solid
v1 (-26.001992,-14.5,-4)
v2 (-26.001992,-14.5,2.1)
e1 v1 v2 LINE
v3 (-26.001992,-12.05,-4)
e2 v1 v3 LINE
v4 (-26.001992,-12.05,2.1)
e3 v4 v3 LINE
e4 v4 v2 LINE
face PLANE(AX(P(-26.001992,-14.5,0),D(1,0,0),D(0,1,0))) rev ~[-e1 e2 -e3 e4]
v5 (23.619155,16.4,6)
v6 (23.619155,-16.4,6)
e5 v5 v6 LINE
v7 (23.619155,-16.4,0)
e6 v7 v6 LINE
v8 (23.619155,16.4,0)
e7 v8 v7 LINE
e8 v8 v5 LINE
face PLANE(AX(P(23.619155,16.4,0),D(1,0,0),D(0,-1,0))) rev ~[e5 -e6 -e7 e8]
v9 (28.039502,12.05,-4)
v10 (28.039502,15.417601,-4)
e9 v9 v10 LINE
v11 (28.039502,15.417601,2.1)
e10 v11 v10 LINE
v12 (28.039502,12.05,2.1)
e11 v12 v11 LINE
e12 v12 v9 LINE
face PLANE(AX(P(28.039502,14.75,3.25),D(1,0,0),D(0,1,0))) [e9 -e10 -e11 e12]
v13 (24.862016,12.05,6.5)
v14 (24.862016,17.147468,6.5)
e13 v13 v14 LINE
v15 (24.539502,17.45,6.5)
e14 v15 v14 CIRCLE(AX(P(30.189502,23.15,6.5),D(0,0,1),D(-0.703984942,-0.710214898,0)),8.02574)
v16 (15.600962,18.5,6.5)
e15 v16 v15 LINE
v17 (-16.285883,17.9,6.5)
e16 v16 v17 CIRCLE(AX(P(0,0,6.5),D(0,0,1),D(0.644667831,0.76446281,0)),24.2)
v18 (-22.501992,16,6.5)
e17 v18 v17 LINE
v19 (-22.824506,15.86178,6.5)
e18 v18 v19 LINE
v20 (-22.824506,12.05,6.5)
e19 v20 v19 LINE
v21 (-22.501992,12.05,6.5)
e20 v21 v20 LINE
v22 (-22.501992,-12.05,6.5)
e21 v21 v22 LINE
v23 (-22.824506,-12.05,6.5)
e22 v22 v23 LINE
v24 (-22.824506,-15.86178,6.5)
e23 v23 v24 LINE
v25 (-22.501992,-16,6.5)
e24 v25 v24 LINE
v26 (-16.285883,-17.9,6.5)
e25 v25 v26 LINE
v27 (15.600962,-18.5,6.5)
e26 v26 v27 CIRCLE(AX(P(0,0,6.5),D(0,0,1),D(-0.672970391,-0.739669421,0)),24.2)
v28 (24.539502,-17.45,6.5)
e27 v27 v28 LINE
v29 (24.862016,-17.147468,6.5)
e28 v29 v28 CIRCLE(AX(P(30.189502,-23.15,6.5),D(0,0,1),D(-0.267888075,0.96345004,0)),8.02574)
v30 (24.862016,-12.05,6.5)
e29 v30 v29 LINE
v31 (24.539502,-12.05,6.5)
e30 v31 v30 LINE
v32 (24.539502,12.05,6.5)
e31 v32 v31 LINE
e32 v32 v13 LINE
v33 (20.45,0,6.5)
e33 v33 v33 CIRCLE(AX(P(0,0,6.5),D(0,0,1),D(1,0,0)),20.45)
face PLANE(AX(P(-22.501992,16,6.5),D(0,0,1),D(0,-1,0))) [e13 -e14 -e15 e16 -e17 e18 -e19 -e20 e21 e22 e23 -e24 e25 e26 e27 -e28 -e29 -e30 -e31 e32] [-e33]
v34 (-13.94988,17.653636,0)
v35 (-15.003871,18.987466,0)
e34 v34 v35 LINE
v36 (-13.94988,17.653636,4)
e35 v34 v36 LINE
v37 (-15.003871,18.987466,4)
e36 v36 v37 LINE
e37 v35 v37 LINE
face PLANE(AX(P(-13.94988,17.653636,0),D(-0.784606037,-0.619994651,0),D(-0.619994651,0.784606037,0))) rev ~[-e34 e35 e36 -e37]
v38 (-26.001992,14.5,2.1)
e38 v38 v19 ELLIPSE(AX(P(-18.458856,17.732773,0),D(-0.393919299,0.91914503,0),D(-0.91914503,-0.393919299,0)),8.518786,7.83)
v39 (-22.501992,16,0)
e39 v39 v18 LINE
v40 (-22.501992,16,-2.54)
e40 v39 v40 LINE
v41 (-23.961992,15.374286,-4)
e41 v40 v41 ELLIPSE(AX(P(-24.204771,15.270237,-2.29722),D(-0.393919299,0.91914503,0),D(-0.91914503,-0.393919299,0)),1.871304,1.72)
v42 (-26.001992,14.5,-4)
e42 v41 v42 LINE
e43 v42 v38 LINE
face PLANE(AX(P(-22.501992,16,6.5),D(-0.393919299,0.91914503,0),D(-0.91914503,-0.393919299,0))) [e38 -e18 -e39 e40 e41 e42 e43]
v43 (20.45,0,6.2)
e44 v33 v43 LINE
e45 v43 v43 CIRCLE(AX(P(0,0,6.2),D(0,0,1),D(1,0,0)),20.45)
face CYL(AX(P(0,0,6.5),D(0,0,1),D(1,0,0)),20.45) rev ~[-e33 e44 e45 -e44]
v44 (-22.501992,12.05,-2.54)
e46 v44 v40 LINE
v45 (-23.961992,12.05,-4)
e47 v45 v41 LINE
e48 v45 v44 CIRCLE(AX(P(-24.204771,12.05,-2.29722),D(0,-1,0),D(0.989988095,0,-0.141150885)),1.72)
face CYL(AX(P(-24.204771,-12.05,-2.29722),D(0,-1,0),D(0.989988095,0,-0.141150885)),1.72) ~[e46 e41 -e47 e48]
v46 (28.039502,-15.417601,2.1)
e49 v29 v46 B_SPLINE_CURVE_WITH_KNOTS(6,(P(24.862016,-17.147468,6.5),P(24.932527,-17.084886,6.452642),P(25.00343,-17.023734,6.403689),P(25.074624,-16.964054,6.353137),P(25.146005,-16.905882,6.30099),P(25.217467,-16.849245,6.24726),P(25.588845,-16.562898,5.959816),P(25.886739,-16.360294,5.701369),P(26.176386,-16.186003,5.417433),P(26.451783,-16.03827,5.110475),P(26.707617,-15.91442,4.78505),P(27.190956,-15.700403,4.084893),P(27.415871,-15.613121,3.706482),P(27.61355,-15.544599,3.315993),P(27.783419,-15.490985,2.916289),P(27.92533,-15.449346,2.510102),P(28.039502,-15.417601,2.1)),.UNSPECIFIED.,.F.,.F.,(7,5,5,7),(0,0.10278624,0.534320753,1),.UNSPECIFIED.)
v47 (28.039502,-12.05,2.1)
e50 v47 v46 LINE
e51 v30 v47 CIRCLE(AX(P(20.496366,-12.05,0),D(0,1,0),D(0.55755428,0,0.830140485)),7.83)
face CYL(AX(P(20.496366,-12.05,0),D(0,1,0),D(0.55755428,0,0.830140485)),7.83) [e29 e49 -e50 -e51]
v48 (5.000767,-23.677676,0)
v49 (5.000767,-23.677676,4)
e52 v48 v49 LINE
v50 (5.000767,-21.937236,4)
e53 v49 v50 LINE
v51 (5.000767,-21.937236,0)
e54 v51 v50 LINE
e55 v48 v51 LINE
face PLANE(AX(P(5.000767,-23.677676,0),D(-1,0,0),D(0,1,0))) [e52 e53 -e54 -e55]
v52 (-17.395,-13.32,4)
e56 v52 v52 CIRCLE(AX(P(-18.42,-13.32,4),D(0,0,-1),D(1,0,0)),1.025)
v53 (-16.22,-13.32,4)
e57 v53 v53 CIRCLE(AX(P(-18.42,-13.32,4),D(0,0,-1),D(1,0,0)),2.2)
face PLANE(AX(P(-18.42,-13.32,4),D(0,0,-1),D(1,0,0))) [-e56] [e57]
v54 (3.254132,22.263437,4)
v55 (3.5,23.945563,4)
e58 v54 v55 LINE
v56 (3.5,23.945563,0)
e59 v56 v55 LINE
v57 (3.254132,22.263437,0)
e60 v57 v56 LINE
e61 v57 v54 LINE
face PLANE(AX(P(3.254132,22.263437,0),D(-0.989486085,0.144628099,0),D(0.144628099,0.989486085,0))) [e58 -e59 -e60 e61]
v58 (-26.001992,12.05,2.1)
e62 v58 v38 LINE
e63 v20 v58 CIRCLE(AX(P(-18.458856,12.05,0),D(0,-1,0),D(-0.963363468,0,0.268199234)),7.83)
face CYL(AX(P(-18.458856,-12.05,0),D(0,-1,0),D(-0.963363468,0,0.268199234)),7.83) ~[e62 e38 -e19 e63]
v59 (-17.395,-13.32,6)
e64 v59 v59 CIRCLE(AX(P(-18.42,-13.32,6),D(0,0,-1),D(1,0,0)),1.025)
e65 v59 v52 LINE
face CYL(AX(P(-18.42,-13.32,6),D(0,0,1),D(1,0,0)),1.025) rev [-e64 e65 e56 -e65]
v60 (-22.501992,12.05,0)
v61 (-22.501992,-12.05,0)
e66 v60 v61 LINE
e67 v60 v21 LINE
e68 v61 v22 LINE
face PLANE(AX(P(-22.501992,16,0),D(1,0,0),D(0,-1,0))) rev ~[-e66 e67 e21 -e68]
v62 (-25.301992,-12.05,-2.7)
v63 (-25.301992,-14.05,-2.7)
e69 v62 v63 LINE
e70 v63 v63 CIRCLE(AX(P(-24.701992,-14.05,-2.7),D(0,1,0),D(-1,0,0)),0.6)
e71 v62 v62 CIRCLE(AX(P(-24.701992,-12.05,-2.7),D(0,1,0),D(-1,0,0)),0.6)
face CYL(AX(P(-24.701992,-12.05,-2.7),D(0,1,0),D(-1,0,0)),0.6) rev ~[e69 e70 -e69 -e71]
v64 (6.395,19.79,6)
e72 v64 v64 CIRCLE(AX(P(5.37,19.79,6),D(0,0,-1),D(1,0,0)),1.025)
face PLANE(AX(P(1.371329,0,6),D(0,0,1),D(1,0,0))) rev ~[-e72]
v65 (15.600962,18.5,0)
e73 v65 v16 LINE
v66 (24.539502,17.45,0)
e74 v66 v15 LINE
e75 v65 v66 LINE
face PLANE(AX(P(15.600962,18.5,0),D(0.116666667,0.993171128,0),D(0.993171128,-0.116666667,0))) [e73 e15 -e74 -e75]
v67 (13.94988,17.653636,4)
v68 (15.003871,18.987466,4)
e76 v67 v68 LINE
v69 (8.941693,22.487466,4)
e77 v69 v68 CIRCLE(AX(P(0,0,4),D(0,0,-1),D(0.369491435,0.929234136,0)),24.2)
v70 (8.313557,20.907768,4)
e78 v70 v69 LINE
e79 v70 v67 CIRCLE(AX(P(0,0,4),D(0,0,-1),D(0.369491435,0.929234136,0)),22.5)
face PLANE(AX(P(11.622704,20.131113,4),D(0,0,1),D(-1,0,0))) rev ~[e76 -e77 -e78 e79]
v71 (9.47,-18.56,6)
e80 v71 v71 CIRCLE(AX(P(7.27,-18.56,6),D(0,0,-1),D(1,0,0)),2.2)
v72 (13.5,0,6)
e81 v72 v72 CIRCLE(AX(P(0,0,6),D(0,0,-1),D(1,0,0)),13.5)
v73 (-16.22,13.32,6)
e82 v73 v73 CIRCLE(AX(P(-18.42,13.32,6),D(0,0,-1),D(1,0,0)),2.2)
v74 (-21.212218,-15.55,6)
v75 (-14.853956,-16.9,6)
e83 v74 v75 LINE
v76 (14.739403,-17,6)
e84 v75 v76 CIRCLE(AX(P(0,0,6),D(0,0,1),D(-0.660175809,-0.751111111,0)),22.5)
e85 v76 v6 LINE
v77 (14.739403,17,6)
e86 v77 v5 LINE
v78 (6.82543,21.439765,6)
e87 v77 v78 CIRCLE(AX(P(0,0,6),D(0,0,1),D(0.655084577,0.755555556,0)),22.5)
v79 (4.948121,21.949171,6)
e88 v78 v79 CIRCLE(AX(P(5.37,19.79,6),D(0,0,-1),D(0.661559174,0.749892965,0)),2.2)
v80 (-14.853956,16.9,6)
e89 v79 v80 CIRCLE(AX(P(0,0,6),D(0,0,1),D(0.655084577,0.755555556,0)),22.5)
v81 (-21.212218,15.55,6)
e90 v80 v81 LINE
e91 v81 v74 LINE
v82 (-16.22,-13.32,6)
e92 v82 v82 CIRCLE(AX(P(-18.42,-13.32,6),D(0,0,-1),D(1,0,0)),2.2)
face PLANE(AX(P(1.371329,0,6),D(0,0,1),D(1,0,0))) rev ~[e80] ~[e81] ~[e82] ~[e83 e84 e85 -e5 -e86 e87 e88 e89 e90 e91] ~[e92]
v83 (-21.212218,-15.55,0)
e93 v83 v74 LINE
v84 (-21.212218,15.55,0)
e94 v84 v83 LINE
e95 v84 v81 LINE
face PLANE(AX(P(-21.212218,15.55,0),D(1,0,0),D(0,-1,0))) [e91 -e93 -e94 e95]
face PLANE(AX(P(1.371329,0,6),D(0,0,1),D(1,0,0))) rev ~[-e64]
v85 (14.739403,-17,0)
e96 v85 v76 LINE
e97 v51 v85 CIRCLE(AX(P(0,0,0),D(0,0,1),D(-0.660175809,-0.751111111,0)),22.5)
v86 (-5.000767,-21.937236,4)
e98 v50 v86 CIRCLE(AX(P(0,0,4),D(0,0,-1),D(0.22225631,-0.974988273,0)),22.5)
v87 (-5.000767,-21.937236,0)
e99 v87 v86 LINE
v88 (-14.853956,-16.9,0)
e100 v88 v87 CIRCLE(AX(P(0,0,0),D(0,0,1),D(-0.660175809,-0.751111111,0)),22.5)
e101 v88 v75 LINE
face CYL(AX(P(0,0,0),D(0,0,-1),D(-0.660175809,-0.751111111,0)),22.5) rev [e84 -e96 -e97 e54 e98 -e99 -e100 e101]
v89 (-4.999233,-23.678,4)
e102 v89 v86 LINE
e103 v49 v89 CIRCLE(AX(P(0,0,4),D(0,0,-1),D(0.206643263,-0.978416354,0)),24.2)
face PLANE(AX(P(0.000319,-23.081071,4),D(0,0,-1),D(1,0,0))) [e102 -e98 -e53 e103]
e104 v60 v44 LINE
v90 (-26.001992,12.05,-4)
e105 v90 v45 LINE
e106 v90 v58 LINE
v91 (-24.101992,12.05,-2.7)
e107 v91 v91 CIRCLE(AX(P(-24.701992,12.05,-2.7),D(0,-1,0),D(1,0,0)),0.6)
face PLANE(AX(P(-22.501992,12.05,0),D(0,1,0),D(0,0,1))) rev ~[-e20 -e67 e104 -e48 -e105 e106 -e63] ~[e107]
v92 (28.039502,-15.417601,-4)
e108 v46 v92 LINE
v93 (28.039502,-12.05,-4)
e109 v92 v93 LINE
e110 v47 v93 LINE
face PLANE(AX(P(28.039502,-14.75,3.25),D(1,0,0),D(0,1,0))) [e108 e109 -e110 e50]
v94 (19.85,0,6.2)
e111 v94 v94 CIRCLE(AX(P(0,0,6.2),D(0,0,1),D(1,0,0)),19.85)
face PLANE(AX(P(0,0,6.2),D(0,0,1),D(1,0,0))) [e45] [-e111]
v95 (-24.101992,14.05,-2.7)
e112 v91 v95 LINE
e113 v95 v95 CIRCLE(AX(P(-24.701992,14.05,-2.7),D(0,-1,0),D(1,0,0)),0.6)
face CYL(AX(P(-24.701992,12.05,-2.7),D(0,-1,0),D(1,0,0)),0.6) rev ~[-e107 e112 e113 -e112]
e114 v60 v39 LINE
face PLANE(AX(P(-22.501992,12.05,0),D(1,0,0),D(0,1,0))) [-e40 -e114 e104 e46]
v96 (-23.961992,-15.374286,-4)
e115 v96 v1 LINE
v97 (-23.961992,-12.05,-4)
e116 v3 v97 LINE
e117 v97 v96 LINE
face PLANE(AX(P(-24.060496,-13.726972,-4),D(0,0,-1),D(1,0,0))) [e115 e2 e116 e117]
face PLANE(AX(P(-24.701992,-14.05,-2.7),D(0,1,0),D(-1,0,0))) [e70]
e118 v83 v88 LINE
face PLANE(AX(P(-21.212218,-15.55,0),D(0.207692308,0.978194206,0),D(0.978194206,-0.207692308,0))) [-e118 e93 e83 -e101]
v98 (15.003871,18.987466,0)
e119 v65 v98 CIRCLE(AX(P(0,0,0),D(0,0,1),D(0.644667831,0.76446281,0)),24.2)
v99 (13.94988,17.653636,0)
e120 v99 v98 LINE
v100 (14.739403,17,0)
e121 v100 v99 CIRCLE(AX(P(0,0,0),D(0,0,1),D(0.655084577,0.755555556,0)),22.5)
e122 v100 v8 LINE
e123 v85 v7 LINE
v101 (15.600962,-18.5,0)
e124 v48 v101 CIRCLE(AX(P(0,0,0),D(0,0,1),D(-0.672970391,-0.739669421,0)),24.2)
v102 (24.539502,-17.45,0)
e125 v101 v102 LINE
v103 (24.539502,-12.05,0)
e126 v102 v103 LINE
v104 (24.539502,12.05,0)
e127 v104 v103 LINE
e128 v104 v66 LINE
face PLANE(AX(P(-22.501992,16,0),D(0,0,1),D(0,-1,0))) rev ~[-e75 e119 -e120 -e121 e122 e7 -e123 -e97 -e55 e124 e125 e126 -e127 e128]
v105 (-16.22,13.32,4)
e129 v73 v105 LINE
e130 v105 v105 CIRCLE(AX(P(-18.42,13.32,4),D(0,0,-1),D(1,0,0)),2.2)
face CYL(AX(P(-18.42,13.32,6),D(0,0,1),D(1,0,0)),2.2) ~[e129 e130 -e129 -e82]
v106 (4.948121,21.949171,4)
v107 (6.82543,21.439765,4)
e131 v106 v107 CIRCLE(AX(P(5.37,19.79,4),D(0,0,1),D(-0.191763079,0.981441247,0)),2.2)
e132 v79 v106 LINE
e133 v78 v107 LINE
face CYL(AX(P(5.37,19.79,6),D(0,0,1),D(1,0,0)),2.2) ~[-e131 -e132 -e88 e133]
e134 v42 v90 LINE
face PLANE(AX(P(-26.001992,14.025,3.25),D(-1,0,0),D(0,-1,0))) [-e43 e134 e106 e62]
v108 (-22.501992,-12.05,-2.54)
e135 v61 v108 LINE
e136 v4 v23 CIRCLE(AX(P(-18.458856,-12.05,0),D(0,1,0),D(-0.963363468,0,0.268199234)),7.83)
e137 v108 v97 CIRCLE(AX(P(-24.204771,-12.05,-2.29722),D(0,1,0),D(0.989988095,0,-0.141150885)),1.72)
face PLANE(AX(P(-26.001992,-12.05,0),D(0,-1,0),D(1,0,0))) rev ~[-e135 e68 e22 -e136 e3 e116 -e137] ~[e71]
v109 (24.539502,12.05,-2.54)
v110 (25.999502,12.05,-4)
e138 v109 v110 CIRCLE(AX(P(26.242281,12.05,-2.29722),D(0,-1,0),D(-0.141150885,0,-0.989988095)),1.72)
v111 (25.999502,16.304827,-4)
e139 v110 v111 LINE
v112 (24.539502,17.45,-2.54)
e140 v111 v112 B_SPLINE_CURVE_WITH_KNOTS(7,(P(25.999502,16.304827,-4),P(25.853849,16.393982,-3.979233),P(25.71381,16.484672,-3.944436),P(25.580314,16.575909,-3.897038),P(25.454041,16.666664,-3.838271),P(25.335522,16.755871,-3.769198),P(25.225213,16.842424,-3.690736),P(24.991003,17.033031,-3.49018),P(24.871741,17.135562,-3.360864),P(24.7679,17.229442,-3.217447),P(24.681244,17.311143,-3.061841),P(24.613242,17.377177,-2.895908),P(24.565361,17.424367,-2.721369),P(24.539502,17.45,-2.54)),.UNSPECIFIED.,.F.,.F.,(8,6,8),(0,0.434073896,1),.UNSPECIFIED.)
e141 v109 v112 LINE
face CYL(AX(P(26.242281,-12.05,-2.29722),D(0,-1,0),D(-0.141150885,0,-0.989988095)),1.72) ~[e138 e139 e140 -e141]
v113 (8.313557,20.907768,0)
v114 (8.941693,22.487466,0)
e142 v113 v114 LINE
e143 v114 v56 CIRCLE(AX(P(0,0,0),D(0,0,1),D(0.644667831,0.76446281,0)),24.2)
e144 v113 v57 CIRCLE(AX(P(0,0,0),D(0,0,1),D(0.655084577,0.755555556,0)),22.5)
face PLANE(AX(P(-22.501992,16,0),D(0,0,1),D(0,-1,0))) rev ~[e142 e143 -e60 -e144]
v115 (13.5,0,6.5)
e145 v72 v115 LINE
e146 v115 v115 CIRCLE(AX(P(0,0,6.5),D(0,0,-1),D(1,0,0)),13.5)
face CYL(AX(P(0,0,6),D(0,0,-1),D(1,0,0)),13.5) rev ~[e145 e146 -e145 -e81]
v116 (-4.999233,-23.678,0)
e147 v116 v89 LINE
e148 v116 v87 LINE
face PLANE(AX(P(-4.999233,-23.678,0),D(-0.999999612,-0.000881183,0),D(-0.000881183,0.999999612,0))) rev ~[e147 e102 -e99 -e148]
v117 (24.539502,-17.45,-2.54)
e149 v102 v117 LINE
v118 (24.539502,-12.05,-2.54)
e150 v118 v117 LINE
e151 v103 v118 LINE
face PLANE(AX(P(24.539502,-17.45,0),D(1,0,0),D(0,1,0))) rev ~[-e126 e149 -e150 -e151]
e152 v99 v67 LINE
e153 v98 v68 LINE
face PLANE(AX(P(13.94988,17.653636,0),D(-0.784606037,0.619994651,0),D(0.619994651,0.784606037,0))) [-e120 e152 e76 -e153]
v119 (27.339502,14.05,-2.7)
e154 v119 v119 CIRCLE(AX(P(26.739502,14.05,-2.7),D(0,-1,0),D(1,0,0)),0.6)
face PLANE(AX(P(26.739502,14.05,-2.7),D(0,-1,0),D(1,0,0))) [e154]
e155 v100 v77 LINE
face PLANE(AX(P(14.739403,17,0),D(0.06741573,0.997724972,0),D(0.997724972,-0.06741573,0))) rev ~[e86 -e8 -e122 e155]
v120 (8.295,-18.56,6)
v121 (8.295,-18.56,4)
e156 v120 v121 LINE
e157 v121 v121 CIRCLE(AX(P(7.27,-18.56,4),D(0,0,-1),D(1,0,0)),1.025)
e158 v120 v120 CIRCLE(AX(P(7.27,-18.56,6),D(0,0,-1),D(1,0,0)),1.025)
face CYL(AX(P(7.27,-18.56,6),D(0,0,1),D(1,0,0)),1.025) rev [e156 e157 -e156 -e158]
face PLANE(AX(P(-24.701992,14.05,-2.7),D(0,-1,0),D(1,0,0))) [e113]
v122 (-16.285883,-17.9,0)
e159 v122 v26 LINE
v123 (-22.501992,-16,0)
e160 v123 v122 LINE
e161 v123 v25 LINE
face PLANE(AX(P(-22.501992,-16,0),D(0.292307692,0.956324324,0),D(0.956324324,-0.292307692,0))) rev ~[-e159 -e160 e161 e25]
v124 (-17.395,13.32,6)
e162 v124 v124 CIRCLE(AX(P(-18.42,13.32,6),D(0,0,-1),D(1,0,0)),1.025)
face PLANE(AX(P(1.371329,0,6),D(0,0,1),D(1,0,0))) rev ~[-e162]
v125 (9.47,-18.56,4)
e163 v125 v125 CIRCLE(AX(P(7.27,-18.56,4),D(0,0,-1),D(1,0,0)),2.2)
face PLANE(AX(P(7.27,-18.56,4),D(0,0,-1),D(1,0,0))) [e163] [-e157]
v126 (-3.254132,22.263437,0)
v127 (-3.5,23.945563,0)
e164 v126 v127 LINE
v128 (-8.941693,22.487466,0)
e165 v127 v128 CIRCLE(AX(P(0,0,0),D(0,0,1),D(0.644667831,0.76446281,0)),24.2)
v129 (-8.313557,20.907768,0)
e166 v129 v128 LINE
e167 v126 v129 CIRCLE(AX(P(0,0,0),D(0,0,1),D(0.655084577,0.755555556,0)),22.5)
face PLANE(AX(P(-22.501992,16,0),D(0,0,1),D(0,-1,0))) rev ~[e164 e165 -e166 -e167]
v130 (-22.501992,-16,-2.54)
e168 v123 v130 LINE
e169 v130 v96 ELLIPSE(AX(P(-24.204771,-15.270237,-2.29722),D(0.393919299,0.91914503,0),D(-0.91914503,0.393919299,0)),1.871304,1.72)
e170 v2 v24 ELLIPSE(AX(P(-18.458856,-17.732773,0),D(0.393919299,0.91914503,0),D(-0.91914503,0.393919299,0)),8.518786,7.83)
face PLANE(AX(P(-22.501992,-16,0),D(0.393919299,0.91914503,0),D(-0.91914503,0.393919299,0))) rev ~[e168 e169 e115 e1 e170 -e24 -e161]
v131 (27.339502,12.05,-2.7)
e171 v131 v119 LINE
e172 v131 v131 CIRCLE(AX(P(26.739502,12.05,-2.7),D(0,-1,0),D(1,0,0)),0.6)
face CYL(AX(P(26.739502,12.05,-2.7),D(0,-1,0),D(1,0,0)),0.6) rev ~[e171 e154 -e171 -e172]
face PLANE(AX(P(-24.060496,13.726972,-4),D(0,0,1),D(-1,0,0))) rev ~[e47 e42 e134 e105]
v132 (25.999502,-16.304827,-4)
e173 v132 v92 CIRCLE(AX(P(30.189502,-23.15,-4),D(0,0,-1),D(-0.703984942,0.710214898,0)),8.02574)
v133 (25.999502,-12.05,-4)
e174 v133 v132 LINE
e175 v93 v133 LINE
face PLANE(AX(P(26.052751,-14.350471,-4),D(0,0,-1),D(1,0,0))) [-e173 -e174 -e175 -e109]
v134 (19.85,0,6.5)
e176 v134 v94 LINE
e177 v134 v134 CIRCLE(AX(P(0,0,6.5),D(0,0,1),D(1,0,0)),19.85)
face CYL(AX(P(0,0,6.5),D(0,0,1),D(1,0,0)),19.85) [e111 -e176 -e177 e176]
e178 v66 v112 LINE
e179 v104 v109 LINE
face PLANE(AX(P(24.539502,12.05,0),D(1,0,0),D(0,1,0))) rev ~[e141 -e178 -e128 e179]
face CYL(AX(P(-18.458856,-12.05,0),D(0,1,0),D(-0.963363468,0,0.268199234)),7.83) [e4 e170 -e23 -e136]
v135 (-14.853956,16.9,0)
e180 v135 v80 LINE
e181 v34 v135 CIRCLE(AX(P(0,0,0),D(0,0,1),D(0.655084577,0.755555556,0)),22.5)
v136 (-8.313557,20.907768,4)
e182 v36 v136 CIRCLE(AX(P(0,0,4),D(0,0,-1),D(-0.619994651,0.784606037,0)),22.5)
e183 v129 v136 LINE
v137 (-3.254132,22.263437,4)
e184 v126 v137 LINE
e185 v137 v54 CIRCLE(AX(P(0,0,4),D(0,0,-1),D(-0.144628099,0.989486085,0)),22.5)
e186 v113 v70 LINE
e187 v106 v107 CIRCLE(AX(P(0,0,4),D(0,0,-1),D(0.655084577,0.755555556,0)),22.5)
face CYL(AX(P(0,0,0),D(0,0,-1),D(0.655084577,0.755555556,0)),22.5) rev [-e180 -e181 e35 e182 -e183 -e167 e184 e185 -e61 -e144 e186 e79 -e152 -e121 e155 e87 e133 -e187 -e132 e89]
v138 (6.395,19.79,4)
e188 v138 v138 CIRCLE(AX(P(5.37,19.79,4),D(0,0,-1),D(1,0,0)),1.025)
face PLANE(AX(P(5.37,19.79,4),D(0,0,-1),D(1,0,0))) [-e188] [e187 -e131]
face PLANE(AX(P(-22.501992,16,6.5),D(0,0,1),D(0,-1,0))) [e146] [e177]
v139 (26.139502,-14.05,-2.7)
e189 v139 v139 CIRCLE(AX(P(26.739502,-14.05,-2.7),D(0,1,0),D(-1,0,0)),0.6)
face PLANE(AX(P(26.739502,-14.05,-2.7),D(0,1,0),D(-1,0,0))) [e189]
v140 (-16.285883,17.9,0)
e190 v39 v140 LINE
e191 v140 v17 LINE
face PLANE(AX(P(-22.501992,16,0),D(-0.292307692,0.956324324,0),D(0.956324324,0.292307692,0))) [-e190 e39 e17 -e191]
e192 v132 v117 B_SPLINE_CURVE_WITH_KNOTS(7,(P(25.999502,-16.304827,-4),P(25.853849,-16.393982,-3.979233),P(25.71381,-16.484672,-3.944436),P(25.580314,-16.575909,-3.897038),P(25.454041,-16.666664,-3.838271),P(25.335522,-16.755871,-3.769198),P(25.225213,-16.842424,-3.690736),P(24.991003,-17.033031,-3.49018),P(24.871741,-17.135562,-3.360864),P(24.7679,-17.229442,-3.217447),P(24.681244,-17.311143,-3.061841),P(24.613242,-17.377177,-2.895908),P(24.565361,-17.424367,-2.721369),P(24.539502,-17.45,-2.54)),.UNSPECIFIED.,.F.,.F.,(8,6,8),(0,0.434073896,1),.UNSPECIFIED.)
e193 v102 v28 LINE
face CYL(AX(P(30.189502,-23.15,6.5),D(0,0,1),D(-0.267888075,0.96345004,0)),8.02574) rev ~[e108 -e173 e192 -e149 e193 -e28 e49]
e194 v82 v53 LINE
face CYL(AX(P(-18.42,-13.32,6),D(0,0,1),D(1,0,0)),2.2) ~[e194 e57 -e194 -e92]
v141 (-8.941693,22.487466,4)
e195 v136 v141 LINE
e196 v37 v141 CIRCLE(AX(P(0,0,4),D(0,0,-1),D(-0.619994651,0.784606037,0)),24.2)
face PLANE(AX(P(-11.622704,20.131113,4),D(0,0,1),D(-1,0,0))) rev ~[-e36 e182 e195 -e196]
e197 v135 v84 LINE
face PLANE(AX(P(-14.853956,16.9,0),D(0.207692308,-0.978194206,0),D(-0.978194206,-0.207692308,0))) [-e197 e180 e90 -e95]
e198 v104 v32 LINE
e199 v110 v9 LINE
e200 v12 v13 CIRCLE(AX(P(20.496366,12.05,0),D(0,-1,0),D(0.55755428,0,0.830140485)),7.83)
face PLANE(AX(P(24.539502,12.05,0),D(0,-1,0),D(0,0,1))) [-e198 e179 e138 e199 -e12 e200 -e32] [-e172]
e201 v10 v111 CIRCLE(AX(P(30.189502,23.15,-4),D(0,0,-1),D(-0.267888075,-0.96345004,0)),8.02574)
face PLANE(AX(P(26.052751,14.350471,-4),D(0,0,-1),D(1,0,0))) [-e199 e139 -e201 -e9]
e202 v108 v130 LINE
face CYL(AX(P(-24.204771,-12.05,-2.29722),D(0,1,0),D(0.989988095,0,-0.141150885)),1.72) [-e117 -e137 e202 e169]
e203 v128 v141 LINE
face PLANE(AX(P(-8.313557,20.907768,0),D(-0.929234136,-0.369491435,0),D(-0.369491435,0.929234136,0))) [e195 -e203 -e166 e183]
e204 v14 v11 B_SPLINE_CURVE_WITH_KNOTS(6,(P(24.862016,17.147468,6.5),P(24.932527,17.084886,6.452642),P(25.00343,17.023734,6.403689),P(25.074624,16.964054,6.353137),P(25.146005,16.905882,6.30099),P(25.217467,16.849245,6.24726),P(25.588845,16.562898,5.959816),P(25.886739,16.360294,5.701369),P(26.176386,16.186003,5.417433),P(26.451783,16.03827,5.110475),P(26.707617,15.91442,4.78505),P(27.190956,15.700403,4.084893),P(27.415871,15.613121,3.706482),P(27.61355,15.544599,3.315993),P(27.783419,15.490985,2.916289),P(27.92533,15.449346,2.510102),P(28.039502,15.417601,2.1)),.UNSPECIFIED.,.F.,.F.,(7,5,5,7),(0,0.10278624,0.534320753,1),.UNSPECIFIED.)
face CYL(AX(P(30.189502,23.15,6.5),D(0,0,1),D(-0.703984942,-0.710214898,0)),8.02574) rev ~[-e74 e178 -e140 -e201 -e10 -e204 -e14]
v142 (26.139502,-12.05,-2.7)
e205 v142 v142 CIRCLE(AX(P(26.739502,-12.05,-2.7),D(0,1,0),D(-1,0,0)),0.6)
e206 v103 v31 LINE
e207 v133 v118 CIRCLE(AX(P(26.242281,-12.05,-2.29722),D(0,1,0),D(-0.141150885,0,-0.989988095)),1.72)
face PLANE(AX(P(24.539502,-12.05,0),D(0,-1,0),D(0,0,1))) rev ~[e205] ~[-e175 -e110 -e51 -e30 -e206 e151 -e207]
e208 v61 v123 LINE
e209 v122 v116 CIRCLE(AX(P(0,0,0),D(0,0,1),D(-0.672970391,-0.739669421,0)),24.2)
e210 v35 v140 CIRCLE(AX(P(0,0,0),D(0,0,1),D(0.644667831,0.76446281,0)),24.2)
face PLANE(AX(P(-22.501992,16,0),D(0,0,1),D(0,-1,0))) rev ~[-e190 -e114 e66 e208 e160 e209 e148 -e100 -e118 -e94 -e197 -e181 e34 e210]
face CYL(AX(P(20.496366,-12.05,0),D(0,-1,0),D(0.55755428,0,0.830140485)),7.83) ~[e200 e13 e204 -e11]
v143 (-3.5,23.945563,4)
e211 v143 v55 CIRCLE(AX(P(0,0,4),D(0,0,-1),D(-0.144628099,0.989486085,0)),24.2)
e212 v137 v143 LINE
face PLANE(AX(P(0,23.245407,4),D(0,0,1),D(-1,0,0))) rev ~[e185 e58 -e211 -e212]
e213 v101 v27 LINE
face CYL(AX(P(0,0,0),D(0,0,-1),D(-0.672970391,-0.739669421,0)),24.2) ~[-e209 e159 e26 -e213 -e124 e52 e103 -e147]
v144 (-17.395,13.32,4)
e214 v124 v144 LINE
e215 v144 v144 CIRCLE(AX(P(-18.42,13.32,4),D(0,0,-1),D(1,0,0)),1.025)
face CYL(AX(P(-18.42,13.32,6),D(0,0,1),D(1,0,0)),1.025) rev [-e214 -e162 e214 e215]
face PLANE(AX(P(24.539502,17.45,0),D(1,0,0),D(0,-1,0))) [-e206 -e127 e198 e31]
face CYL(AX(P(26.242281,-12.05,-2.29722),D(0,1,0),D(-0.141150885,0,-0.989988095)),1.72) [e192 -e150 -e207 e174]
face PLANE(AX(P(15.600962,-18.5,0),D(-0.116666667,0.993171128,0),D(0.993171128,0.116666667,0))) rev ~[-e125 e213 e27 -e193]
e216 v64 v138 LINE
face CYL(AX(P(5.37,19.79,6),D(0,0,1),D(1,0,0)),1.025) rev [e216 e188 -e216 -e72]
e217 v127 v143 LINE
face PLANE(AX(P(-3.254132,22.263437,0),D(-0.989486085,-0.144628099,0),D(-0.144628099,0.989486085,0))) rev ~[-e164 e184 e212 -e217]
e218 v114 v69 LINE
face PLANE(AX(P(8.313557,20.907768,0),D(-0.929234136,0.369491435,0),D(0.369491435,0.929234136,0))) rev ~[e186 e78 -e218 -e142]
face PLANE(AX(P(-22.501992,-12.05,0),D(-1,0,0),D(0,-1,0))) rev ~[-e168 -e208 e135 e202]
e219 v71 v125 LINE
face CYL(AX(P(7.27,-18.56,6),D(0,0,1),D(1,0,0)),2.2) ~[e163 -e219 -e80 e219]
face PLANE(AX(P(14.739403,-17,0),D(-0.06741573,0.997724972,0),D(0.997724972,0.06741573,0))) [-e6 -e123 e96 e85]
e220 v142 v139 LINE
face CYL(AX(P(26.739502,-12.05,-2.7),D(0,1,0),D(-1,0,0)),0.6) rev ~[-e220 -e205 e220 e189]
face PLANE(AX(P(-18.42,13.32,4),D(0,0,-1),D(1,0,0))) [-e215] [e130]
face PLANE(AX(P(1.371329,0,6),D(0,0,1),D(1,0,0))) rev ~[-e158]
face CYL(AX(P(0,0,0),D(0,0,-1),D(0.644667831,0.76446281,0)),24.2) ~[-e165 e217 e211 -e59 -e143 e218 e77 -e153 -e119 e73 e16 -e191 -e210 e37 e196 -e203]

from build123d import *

# Parameters (mm, degrees)
PAD_DEPTH            = 6.5
POCKET_DEPTH         = 6
SKETCH002_R          = 13.5
POCKET001_DEPTH      = 1
SKETCH003_W          = 5.4
SKETCH003_H          = 6.5
PAD001_DEPTH         = 3.5
POCKET002_DEPTH      = 10
SKETCH010_W          = 3.95
SKETCH010_H          = 6.5
PAD002_DEPTH         = 3.5
POCKET005_DEPTH      = 10
SKETCH014_R          = 20.45
SKETCH014_R_2        = 19.85
POCKET008_DEPTH      = 0.3
SKETCH015_R          = 2.2
SKETCH015_R_2        = 1.025
PAD003_DEPTH         = 2
POCKET009_DEPTH      = 4
POCKET010_DEPTH      = 4
PAD004_DEPTH         = 4
POCKET013_DEPTH      = 12.151
POCKET013_DEPTH_BACK = 36.251
SKETCH022_R          = 0.6
POCKET014_DEPTH      = 2
SKETCH023_R          = 0.6
POCKET015_DEPTH      = 2


with BuildPart() as part:
    # Sketch → Pad (new body)
    with BuildSketch(Plane.XY):
        with BuildLine():
            Line((-22.5019915649, 16), (-22.5019915649, -16))
            Line((-22.5019915649, -16), (-16.2858834578, -17.9))
            ThreePointArc((-16.2858834578, -17.9), (-0.4552796053, -24.1957169863), (15.6009615088, -18.5))
            Line((15.6009615088, -18.5), (24.5395016581, -17.45))
            Line((24.5395016581, 17.45), (24.5395016581, -17.45))
            Line((15.6009615088, 18.5), (24.5395016581, 17.45))
            ThreePointArc((15.6009615088, 18.5), (-0.4552796053, 24.1957169863), (-16.2858834578, 17.9))
            Line((-22.5019915649, 16), (-16.2858834578, 17.9))
        make_face()
    extrude(amount=PAD_DEPTH)

    # Sketch001 → Pocket (cut)
    with BuildSketch(Plane.XY):
        with BuildLine():
            Line((-14.8539557021, 16.9), (-21.2122180433, 15.55))
            Line((-21.2122180433, 15.55), (-21.2122180433, -15.55))
            Line((-21.2122180433, -15.55), (-14.8539557021, -16.9))
            ThreePointArc((-14.8539557021, -16.9), (-0.0760301383, -22.4998715423), (14.739402973, -17))
            Line((14.739402973, -17), (23.6191552218, -16.4))
            Line((23.6191552218, 16.4), (23.6191552218, -16.4))
            Line((14.739402973, 17), (23.6191552218, 16.4))
            ThreePointArc((14.739402973, 17), (-0.0760301383, 22.4998715423), (-14.8539557021, 16.9))
        make_face()
    extrude(amount=POCKET_DEPTH, mode=Mode.SUBTRACT)

    # Sketch002 (on Face19 of Pocket) → Pocket001 (cut)
    with BuildSketch(Plane(origin=(0, 0, 6), x_dir=(1, 0, 0), z_dir=(0, 0, -1))):
        Circle(SKETCH002_R)
    extrude(amount=-POCKET001_DEPTH, mode=Mode.SUBTRACT)

    # Sketch003 (on Face7 of Pad) → Pad001 (join)
    with BuildSketch(Plane.YZ.offset(24.5395016581)):
        with Locations((-14.75, 3.25)):
            Rectangle(SKETCH003_W, SKETCH003_H)
        with Locations((14.75, 3.25)):
            Rectangle(SKETCH003_W, SKETCH003_H)
    extrude(amount=PAD001_DEPTH)

    # Sketch006 (on Face22 of Pad001) → Pocket002 (cut)
    with BuildSketch(Plane.XY.offset(6.5)):
        with BuildLine():
            ThreePointArc((24.5395016581, 17.45), (26.1592830786, 16.2095505764), (28.0395016581, 15.4176006311))
            Line((28.0395016581, 17.45), (28.0395016581, 15.4176006311))
            Line((28.0395016581, 17.45), (24.5395016581, 17.45))
        make_face()
        with BuildLine():
            ThreePointArc((28.0395016581, -15.4176006311), (26.1592830786, -16.2095505765), (24.5395016581, -17.4500000001))
            Line((28.0395016581, -17.45), (24.5395016581, -17.45))
            Line((28.0395016581, -15.4176006311), (28.0395016581, -17.45))
        make_face()
    extrude(amount=-POCKET002_DEPTH, mode=Mode.SUBTRACT)

    # Sketch010 (on Face3 of Pad) → Pad002 (join)
    with BuildSketch(Plane(origin=(-22.5019915649, 0, 0), x_dir=(0, -1, 0), z_dir=(-1, 0, 0))):
        with Locations((-14.025, 3.25)):
            Rectangle(SKETCH010_W, SKETCH010_H)
        with Locations((14.025, 3.25)):
            Rectangle(SKETCH010_W, SKETCH010_H)
    extrude(amount=PAD002_DEPTH)

    # Sketch011 (on Face28 of Pad002) → Pocket005 (cut)
    with BuildSketch(Plane.XY.offset(6.5)):
        Polygon((-26.0019915649, 16), (-22.5019915649, 16), (-26.0019915649, 14.5), align=None)
        Polygon((-22.5019915649, -16), (-26.0019915649, -14.5), (-26.0019915649, -16), align=None)
    extrude(amount=-POCKET005_DEPTH, mode=Mode.SUBTRACT)

    # Sketch014 (on Face10 of Pad) → Pocket008 (cut)
    with BuildSketch(Plane.XY.offset(6.5)):
        Circle(SKETCH014_R)
        Circle(SKETCH014_R_2, mode=Mode.SUBTRACT)
    extrude(amount=-POCKET008_DEPTH, mode=Mode.SUBTRACT)

    # Sketch015 (on Face19 of Pocket) → Pad003 (join)
    with BuildSketch(Plane(origin=(0, 0, 6), x_dir=(1, 0, 0), z_dir=(0, 0, -1))):
        with Locations((-18.42, 13.32)):
            Circle(SKETCH015_R)
        with Locations((-18.42, 13.32)):
            Circle(SKETCH015_R_2, mode=Mode.SUBTRACT)
        with Locations((7.27, 18.56)):
            Circle(SKETCH015_R)
        with Locations((7.27, 18.56)):
            Circle(SKETCH015_R_2, mode=Mode.SUBTRACT)
        with Locations((5.37, -19.79)):
            Circle(SKETCH015_R)
        with Locations((5.37, -19.79)):
            Circle(SKETCH015_R_2, mode=Mode.SUBTRACT)
        with Locations((-18.42, -13.32)):
            Circle(SKETCH015_R)
        with Locations((-18.42, -13.32)):
            Circle(SKETCH015_R_2, mode=Mode.SUBTRACT)
    extrude(amount=PAD003_DEPTH)

    # Sketch016 (on Face4 of Pocket) → Pocket009 (cut)
    with BuildSketch(Plane(origin=(0, 0, 0), x_dir=(1, 0, 0), z_dir=(0, 0, -1))):
        with BuildLine():
            Line((-4.9992330338, 23.6779996848), (-5.0007669662, 21.9372361465))
            ThreePointArc((5.0007669662, 21.9372361465), (0, 22.5), (-5.0007669662, 21.9372361465))
            Line((5.0007669662, 23.6776757675), (5.0007669662, 21.9372361465))
            ThreePointArc((5.0007669662, 23.6776757675), (0.00078388, 24.1999999873), (-4.9992330338, 23.6779996848))
        make_face()
    extrude(amount=-POCKET009_DEPTH, mode=Mode.SUBTRACT)

    # Sketch017 (on Face4 of Pocket) → Pocket010 (cut)
    with BuildSketch(Plane(origin=(0, 0, 0), x_dir=(1, 0, 0), z_dir=(0, 0, -1))):
        with BuildLine():
            ThreePointArc((-3.2541322314, -22.2634369184), (0, -22.5), (3.2541322314, -22.2634369184))
            Line((3.2541322314, -22.2634369184), (3.5, -23.9455632634))
            ThreePointArc((-3.5, -23.9455632634), (0, -24.2), (3.5, -23.9455632634))
            Line((-3.2541322314, -22.2634369184), (-3.5, -23.9455632634))
        make_face()
        with BuildLine():
            ThreePointArc((-13.9498796389, -17.6536358312), (-11.25, -19.4855715851), (-8.3135572795, -20.9077680626))
            Line((-8.3135572795, -20.9077680626), (-8.9416927184, -22.487466094))
            ThreePointArc((-15.0038705449, -18.987466094), (-12.1, -20.9578147716), (-8.9416927184, -22.487466094))
            Line((-13.9498796389, -17.6536358312), (-15.0038705449, -18.987466094))
        make_face()
        with BuildLine():
            ThreePointArc((8.3135572795, -20.9077680626), (11.25, -19.4855715851), (13.9498796389, -17.6536358312))
            Line((13.9498796389, -17.6536358312), (15.0038705449, -18.987466094))
            ThreePointArc((8.9416927184, -22.487466094), (12.1, -20.9578147716), (15.0038705449, -18.987466094))
            Line((8.3135572795, -20.9077680626), (8.9416927184, -22.487466094))
        make_face()
    extrude(amount=-POCKET010_DEPTH, mode=Mode.SUBTRACT)

    # Sketch018 (on Face8 of Pocket005) → Pad004 (join)
    with BuildSketch(Plane(origin=(0, 0, 0), x_dir=(1, 0, 0), z_dir=(0, 0, -1))):
        Polygon((-26.0019915649, 14.5), (-26.0019915649, 12.05), (-22.5019915649, 12.05), (-22.5019915649, 16), align=None)
        Polygon((-26.0019915649, -12.05), (-22.5019915649, -12.05), (-22.5019915649, -16), (-26.0019915649, -14.5), align=None)
        with BuildLine():
            Line((24.5395016581, 17.4500000001), (24.5395016581, 12.05))
            Line((28.0395016581, 12.05), (24.5395016581, 12.05))
            Line((28.0395016581, 15.4176006311), (28.0395016581, 12.05))
            ThreePointArc((24.5395016581, 17.4500000001), (26.1592830786, 16.2095505765), (28.0395016581, 15.4176006311))
        make_face()
        with BuildLine():
            Line((24.5395016581, -12.05), (24.5395016581, -17.45))
            ThreePointArc((28.0395016581, -15.4176006311), (26.1592830786, -16.2095505764), (24.5395016581, -17.45))
            Line((28.0395016581, -12.05), (28.0395016581, -15.4176006311))
            Line((24.5395016581, -12.05), (28.0395016581, -12.05))
        make_face()
    extrude(amount=PAD004_DEPTH)

    # Sketch021 (on Face50 of Pad004) → Pocket013 (cut, two sides)
    with BuildSketch(Plane(origin=(0, -12.05, 0), x_dir=(-1, 0, 0), z_dir=(0, 1, 0))) as pocket013_sk:
        with BuildLine():
            Line((-24.8620157143, 6.5), (-28.0395016581, 6.5))
            Line((-28.0395016581, 6.5), (-28.0395016581, 2.1))
            ThreePointArc((-24.8620157143, 6.5), (-26.8441838951, 4.5841143344), (-28.0395016581, 2.1))
        make_face()
        with BuildLine():
            ThreePointArc((-25.9995016581, -4), (-25.0260575173, -3.5134441408), (-24.5395016581, -2.54))
            Line((-24.5395016581, -4), (-24.5395016581, -2.54))
            Line((-24.5395016581, -4), (-25.9995016581, -4))
        make_face()
        with BuildLine():
            Line((22.5019915649, -4), (22.5019915649, -2.54))
            ThreePointArc((22.5019915649, -2.54), (22.9885474241, -3.5134441408), (23.9619915649, -4))
            Line((22.5019915649, -4), (23.9619915649, -4))
        make_face()
        with BuildLine():
            Line((26.0019915649, 6.5), (26.0019915649, 2.1))
            ThreePointArc((26.0019915649, 2.1), (24.806673802, 4.5841143344), (22.8245056212, 6.5))
            Line((26.0019915649, 6.5), (22.8245056212, 6.5))
        make_face()
    extrude(amount=-POCKET013_DEPTH, mode=Mode.SUBTRACT)
    extrude(pocket013_sk.sketch, amount=POCKET013_DEPTH_BACK, mode=Mode.SUBTRACT)

    # Sketch022 (on Face66 of Pocket013) → Pocket014 (cut)
    with BuildSketch(Plane.XZ.offset(-12.05)):
        with Locations((-24.7019915649, -2.7)):
            Circle(SKETCH022_R)
        with Locations((26.7395016581, -2.7)):
            Circle(SKETCH022_R)
    extrude(amount=-POCKET014_DEPTH, mode=Mode.SUBTRACT)

    # Sketch023 (on Face49 of Pocket014) → Pocket015 (cut)
    with BuildSketch(Plane(origin=(0, -12.05, 0), x_dir=(-1, 0, 0), z_dir=(0, 1, 0))):
        with Locations((-26.7395016581, -2.7)):
            Circle(SKETCH023_R)
        with Locations((24.7019915649, -2.7)):
            Circle(SKETCH023_R)
    extrude(amount=-POCKET015_DEPTH, mode=Mode.SUBTRACT)


solid = part.part
